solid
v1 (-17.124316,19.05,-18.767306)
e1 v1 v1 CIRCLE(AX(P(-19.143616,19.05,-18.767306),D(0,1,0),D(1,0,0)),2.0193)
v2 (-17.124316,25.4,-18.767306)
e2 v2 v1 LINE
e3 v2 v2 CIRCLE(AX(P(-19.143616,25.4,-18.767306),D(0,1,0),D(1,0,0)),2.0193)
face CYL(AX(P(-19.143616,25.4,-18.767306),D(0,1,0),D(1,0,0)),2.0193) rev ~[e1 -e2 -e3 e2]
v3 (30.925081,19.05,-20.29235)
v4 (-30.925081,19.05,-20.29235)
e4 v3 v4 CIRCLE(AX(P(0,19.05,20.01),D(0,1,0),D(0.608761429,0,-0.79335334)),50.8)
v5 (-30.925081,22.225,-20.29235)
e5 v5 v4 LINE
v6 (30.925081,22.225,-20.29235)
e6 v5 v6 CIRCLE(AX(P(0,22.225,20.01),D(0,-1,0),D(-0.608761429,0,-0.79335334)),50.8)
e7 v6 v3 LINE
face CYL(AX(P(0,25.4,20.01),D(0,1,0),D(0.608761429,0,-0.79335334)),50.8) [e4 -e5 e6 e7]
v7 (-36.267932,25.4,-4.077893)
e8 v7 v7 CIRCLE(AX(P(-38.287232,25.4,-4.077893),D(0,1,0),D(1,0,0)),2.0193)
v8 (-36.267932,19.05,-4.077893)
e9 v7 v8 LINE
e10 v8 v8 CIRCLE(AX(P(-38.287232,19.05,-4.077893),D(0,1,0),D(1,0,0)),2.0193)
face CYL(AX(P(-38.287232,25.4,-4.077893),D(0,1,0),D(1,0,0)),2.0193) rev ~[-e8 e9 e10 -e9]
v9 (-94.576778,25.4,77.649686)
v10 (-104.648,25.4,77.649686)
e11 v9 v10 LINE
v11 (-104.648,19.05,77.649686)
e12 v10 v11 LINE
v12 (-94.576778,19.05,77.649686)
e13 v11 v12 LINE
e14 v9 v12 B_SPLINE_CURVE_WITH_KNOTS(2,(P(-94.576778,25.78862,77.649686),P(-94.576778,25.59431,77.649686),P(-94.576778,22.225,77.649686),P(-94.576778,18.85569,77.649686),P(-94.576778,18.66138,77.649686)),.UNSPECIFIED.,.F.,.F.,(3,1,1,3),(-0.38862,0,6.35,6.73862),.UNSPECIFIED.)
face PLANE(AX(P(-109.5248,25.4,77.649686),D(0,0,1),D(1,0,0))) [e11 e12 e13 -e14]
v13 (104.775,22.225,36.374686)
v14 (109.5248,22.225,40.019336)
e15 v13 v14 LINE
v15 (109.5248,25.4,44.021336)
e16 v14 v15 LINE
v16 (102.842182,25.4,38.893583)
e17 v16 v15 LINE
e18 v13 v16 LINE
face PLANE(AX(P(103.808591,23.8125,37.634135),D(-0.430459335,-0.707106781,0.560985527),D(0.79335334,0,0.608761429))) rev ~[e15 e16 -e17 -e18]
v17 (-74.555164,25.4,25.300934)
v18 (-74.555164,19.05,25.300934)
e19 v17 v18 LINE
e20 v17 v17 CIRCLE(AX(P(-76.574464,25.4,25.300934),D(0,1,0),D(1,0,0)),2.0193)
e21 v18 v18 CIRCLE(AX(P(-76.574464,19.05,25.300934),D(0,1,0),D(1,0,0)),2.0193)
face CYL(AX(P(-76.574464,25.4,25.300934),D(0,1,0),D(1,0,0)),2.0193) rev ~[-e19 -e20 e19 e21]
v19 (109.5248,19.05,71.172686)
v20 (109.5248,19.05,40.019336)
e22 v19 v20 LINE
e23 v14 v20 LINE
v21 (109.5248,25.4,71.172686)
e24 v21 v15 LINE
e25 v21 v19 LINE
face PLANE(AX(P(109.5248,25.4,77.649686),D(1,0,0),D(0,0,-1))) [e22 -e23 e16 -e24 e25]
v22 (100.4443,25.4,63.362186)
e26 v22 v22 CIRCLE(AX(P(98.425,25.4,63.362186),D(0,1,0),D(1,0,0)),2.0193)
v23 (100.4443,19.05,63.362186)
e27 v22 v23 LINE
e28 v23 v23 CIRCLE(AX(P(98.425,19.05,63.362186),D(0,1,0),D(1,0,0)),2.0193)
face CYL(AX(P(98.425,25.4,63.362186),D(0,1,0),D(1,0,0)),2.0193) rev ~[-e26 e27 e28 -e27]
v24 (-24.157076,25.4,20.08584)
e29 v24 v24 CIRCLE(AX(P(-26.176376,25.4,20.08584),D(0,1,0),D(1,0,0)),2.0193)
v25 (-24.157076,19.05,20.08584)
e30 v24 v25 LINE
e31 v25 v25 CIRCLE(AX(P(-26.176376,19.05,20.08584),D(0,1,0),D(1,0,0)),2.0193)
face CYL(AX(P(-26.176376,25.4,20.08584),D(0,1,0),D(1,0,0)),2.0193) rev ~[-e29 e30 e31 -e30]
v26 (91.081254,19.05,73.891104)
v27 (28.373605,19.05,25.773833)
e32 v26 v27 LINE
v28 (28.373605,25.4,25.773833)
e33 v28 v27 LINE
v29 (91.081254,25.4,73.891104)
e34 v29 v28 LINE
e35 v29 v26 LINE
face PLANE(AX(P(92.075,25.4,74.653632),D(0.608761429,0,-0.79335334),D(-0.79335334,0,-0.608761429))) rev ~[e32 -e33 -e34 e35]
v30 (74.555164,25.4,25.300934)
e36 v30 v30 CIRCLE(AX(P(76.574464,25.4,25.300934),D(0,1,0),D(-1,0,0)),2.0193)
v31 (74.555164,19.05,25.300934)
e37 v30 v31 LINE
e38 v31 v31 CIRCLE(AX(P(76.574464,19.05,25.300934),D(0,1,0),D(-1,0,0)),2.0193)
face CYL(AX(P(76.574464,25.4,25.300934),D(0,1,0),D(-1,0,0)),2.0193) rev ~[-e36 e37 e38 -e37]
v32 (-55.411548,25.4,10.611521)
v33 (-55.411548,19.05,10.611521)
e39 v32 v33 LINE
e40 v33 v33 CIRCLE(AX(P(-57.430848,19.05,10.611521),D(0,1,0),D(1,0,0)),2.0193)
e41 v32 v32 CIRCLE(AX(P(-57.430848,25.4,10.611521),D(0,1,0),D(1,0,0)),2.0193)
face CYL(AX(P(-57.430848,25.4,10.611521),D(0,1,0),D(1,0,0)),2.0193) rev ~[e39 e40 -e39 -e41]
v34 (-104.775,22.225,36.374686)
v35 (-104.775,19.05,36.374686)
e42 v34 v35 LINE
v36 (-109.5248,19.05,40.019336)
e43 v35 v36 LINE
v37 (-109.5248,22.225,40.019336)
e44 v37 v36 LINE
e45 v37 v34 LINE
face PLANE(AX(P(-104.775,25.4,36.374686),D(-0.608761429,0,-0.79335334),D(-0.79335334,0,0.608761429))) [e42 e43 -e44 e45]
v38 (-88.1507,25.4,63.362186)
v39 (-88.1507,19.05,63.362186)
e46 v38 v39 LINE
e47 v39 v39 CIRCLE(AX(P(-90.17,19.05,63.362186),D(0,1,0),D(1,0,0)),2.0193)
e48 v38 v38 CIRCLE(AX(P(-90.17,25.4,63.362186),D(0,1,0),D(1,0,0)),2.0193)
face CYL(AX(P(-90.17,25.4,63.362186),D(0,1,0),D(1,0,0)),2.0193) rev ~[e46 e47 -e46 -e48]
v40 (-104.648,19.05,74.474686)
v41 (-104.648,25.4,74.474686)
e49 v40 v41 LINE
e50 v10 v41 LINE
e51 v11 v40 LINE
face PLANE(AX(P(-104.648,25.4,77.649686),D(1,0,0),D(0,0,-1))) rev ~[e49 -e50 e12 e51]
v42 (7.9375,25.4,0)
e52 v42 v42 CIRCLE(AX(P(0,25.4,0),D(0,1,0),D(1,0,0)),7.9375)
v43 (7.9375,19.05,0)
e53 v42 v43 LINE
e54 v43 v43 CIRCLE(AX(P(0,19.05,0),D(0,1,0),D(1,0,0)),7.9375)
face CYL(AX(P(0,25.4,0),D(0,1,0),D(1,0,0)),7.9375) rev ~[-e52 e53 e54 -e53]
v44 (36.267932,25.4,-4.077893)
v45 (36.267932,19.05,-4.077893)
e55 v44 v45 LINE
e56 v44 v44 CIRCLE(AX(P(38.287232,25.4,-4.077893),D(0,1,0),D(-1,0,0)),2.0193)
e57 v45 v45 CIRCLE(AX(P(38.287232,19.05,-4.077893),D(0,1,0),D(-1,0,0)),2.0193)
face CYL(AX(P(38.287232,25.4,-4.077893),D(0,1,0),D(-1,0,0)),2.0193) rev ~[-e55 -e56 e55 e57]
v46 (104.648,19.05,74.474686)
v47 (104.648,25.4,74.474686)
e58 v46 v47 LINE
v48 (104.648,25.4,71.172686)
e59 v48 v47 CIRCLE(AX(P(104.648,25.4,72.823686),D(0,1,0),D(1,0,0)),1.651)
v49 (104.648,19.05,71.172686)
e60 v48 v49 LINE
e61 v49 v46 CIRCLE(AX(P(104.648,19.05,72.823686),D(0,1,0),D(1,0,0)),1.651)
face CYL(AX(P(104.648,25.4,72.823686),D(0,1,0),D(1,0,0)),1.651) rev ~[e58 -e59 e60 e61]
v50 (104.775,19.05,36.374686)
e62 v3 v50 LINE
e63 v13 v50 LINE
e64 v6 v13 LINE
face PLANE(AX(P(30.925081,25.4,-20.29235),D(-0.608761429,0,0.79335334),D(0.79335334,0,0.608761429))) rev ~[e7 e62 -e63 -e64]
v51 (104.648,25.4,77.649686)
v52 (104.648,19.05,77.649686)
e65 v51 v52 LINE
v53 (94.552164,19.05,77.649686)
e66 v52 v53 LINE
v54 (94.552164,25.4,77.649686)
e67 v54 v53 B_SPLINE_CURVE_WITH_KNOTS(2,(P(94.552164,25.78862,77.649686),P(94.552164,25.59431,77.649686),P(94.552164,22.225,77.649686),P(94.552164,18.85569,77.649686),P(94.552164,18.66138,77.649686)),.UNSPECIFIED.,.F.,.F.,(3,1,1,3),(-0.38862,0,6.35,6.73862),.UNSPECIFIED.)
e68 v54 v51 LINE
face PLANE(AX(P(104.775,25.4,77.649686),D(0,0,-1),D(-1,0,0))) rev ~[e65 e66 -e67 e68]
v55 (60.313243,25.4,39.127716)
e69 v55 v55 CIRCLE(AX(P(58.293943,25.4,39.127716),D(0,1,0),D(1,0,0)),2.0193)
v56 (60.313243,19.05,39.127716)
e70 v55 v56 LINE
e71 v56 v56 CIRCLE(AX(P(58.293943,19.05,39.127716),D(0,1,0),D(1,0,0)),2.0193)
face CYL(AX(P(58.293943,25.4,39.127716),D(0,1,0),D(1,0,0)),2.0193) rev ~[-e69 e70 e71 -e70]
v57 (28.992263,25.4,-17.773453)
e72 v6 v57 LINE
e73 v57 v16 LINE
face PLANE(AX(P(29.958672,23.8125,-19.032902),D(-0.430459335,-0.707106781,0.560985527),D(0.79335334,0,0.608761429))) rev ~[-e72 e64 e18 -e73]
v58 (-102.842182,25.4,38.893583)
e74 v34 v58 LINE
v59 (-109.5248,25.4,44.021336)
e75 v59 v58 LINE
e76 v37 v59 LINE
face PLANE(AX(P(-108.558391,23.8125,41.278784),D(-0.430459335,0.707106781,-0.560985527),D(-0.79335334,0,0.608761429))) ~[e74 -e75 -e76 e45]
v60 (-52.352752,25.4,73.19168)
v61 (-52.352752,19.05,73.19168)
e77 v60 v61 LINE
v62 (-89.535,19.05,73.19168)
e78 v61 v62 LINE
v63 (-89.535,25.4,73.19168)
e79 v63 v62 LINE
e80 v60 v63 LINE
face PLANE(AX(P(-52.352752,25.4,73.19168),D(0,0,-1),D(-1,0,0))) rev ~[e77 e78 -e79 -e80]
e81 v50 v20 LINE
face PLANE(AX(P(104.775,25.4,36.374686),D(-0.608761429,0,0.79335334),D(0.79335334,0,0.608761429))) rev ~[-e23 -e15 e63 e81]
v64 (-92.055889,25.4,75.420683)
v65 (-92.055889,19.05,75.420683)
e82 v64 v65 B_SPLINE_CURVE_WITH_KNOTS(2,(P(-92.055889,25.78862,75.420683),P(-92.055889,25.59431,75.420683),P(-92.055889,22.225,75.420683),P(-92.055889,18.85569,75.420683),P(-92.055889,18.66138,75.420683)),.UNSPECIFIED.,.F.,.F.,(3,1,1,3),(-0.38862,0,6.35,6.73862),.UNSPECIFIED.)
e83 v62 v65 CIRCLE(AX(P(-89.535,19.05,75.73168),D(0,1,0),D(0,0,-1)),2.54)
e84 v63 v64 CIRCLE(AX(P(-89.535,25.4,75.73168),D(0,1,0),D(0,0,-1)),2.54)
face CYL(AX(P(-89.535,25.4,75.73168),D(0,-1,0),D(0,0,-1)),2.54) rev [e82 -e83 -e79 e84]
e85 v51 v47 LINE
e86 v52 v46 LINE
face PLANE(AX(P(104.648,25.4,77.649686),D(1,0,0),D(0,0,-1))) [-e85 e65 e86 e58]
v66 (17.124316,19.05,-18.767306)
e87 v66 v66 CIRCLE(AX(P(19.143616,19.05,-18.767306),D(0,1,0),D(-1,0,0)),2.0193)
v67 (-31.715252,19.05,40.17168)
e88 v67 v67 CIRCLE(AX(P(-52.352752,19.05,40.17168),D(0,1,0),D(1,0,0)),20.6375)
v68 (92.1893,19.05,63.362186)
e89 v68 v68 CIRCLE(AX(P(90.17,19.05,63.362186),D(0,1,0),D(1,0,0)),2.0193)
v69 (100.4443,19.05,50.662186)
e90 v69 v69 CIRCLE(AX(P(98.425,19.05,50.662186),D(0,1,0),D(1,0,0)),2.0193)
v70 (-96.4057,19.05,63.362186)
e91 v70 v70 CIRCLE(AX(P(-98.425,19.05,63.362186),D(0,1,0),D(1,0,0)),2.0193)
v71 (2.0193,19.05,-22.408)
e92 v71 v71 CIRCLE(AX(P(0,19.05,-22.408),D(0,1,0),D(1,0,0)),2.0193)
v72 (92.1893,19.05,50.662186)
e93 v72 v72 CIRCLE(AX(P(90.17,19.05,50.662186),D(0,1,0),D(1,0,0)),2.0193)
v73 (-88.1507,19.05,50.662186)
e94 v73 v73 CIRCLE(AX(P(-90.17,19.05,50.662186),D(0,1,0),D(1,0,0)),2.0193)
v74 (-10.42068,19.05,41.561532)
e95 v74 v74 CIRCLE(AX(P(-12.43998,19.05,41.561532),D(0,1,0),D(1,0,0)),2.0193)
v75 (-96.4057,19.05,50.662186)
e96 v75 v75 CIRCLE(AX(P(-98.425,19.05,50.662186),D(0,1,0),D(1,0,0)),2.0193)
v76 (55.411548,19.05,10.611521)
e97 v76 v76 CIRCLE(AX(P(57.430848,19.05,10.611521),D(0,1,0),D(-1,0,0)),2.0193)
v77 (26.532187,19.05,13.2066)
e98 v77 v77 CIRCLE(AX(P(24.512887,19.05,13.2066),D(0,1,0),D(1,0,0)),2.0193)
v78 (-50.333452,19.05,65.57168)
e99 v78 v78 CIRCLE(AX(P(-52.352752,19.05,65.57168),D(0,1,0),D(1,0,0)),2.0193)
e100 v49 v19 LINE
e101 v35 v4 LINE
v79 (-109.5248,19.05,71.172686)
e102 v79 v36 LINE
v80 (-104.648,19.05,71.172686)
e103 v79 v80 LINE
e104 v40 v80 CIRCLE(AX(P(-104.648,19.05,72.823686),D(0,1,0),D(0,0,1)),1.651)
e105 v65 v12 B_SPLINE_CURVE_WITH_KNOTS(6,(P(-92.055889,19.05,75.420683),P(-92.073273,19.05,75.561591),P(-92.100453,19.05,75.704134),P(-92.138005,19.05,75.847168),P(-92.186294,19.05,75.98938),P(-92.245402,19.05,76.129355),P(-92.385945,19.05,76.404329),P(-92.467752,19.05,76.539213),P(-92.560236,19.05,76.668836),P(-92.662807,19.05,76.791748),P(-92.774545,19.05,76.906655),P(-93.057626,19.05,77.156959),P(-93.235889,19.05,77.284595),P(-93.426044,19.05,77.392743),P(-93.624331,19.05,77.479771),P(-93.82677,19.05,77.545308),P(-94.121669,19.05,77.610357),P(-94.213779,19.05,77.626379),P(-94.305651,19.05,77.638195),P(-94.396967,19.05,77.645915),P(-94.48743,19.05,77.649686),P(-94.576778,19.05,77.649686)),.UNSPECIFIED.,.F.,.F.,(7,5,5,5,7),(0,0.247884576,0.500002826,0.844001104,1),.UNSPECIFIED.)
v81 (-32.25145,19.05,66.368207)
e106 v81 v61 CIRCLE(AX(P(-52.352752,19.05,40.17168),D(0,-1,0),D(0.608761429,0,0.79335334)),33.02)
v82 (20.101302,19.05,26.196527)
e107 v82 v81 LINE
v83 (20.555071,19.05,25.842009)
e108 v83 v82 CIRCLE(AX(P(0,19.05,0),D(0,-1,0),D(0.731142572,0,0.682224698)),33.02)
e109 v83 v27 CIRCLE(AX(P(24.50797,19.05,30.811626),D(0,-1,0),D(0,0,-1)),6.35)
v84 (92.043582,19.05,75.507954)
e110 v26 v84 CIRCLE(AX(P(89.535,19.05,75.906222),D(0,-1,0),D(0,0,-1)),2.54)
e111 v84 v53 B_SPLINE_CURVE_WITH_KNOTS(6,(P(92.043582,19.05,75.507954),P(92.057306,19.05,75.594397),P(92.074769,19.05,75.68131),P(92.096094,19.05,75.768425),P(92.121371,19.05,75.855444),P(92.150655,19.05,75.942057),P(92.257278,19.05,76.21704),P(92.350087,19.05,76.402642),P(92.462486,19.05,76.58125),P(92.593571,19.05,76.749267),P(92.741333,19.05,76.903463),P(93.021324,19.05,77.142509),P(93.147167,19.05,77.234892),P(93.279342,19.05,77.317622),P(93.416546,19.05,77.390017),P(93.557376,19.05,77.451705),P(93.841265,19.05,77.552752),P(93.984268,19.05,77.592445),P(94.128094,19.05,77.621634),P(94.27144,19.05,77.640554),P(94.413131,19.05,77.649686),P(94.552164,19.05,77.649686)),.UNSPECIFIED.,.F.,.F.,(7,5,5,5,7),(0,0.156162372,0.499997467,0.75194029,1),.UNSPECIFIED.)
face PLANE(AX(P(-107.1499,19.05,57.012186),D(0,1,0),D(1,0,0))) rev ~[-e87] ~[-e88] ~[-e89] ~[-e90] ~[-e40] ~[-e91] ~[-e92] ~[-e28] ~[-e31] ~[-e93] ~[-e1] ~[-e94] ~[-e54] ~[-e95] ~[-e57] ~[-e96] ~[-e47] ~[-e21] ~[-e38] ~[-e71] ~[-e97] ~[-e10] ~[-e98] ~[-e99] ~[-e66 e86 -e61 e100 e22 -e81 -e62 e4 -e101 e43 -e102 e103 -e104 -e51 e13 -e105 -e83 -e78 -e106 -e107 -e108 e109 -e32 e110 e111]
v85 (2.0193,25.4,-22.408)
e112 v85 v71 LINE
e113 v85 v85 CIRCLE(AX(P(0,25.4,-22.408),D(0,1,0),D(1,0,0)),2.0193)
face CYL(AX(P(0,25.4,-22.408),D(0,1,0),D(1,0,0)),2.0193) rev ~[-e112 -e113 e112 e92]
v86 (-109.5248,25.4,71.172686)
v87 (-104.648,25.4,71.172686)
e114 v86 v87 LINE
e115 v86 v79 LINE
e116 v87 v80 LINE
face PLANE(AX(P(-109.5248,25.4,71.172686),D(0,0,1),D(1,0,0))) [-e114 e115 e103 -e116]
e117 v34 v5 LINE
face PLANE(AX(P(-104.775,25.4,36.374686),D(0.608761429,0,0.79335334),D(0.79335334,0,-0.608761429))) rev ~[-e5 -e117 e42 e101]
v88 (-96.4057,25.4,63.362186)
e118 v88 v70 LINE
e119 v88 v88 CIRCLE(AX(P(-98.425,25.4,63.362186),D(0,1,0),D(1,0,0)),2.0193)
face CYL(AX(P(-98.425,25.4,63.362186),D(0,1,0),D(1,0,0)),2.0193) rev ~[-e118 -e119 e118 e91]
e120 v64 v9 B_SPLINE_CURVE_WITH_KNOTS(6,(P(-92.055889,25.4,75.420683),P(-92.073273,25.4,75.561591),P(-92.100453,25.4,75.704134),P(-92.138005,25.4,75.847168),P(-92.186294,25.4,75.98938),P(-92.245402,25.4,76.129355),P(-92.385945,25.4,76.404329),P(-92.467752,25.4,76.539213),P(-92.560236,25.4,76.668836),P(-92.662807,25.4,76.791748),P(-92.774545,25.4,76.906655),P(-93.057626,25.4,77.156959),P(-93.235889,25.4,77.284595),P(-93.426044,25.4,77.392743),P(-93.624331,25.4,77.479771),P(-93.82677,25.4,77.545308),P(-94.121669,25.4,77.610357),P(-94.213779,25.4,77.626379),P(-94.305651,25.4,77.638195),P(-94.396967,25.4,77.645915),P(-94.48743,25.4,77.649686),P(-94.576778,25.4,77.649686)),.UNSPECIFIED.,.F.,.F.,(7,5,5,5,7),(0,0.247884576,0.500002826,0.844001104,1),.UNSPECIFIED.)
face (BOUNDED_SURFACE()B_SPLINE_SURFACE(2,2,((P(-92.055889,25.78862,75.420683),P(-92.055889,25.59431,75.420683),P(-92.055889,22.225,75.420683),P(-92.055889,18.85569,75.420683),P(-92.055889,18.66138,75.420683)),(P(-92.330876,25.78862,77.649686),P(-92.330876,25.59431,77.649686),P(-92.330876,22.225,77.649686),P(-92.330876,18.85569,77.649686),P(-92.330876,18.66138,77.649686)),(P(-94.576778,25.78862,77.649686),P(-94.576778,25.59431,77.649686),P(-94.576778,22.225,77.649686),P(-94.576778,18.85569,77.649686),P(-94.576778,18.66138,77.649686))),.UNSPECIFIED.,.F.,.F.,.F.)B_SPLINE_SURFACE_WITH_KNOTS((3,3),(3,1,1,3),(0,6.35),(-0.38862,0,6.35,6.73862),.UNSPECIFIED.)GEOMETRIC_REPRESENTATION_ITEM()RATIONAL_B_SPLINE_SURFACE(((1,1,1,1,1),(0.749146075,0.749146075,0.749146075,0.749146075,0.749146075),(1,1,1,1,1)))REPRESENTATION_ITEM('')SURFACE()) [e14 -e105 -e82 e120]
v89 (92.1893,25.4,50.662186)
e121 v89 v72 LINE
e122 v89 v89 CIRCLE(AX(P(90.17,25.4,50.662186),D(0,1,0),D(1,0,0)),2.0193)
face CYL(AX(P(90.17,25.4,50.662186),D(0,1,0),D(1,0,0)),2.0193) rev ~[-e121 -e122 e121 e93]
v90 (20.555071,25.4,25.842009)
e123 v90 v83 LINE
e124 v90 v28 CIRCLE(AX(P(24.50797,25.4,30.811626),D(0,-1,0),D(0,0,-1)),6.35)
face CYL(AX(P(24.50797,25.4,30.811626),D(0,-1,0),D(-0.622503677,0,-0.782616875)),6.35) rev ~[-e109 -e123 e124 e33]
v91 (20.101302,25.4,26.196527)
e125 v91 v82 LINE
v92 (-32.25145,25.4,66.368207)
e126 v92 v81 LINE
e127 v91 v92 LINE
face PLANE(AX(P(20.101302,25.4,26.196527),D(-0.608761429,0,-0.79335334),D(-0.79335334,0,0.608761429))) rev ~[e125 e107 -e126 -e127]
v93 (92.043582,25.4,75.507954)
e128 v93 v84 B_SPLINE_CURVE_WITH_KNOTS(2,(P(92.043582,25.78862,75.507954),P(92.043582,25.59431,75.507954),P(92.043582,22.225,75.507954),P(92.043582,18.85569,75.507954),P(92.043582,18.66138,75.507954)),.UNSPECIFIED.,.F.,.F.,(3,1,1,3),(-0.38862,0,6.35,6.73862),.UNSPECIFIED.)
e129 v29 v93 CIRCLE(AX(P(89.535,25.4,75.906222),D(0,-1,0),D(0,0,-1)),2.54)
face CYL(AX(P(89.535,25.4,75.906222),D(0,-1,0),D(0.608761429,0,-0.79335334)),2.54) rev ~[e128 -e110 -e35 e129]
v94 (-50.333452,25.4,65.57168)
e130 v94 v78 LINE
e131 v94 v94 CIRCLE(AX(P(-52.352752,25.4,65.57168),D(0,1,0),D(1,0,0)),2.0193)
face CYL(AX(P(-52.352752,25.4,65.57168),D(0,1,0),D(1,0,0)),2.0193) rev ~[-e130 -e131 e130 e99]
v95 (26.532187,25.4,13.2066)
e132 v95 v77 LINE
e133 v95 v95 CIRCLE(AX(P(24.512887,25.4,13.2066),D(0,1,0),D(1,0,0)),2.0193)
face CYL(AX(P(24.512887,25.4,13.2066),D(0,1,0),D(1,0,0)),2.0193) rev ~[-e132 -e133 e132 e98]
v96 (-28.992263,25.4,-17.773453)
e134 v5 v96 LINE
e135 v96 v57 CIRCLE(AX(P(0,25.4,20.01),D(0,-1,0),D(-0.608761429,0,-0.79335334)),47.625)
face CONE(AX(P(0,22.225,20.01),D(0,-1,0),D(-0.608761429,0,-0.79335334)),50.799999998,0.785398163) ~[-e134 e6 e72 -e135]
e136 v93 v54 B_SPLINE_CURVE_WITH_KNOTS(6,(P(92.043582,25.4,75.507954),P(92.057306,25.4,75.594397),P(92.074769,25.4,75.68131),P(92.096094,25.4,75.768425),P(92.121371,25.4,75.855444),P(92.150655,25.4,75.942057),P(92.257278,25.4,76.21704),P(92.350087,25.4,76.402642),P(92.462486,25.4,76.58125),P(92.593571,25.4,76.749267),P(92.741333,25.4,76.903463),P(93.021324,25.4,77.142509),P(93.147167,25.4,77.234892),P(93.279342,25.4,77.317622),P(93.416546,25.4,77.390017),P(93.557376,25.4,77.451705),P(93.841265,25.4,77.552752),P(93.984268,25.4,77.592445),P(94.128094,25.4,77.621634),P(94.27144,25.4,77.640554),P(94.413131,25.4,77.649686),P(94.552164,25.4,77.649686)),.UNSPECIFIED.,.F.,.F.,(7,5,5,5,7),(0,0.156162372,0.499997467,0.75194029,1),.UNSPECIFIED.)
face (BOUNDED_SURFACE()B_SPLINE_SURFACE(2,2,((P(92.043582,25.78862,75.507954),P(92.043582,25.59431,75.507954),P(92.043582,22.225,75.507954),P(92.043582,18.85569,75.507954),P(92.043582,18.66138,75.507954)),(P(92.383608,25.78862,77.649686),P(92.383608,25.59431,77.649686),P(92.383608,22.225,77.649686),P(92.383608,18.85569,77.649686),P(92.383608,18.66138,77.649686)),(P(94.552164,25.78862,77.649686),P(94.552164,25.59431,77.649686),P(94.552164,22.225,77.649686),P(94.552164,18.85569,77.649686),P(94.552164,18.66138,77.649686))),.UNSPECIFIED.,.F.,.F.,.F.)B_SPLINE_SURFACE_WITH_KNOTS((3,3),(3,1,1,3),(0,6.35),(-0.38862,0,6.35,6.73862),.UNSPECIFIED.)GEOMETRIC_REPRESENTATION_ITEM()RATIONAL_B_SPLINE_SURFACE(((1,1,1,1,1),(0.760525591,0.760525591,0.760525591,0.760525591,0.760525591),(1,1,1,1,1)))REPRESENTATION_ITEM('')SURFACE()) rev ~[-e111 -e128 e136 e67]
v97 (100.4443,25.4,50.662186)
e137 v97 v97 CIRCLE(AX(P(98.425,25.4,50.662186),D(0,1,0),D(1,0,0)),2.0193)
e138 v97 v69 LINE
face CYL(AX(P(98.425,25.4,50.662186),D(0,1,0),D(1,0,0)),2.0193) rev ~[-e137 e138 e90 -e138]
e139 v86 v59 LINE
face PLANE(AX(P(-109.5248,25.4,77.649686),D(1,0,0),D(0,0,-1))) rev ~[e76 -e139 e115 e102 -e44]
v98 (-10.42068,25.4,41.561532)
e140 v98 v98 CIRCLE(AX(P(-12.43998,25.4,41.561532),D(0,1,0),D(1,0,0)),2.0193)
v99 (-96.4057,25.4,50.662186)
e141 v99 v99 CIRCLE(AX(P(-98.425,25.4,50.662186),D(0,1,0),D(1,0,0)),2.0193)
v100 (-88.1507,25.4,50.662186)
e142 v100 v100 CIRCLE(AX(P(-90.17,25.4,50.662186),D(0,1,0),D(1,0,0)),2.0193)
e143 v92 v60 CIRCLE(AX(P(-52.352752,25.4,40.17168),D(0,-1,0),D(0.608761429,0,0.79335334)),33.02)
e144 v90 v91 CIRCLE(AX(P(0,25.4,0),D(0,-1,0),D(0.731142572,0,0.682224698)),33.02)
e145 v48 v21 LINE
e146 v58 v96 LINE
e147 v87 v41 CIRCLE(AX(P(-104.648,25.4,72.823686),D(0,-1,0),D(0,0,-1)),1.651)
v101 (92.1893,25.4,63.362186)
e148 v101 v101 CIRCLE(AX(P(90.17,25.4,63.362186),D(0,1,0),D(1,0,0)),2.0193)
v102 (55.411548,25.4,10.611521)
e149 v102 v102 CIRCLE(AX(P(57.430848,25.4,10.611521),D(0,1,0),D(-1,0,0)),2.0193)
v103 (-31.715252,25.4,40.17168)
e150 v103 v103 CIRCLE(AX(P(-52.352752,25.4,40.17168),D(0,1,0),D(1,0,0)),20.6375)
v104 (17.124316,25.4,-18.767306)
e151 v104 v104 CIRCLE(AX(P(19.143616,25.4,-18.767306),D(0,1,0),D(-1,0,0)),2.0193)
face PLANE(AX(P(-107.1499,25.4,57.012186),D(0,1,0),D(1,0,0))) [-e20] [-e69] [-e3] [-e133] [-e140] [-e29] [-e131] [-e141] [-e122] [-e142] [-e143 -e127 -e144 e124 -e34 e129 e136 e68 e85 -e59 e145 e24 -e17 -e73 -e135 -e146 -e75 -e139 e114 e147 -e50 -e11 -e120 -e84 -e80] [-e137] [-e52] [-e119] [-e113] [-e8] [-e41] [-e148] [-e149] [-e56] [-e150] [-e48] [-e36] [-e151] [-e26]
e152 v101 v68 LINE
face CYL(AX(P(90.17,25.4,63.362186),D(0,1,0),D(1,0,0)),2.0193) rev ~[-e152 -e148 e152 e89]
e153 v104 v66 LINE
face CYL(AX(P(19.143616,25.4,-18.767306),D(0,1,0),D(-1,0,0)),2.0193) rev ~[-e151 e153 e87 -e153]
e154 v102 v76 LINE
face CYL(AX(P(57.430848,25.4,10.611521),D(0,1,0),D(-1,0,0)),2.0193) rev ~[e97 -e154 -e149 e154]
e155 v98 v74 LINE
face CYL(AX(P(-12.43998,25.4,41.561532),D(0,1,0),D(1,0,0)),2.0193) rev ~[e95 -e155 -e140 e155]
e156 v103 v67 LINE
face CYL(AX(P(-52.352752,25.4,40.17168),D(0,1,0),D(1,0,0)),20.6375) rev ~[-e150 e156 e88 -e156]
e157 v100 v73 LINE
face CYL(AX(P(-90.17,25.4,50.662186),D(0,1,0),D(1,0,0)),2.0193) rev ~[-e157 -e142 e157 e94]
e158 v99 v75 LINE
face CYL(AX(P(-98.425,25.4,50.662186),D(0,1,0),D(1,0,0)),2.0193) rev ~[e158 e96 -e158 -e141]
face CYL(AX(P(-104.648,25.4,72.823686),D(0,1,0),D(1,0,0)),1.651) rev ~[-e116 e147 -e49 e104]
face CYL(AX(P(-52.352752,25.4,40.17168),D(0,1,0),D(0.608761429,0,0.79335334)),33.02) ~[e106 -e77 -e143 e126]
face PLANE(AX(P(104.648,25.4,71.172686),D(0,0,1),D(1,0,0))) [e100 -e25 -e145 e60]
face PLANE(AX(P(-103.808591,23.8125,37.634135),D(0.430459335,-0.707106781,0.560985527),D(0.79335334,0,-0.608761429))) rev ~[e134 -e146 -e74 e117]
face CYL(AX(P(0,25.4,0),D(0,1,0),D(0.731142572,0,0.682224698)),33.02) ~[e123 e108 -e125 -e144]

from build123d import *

# Parameters (mm, degrees)
SKETCH3_R                          = 17.8
SKETCH3_R_2                        = 7.9375
BOSS_EXTRUDE1_DEPTH                = 6.35
SKETCH7_R                          = 20.6375
CUT_EXTRUDE1_DEPTH                 = 7.35
SKETCH8_W                          = 4.7498
SKETCH8_H                          = 41.275
BOSS_EXTRUDE4_DEPTH                = 6.35
SKETCH10_R                         = 2.0193
SPACER_HOLES_DEPTH                 = 7.35
SPACER_HOLE_PATTERN_COUNT          = 5
SPACER_HOLE_PATTERN_PITCH          = 24.13
SPACER_HOLE_MIRROR_COPY_1_SKETCH_R = 2.0193
SPACER_HOLE_MIRROR_COPY_1_DEPTH    = 7.35
SPACER_HOLE_MIRROR_COPY_2_SKETCH_R = 2.0193
SPACER_HOLE_MIRROR_COPY_2_DEPTH    = 7.35
SPACER_HOLE_MIRROR_COPY_3_SKETCH_R = 2.0193
SPACER_HOLE_MIRROR_COPY_3_DEPTH    = 7.35
SPACER_HOLE_MIRROR_COPY_4_SKETCH_R = 2.0193
SPACER_HOLE_MIRROR_COPY_4_DEPTH    = 7.35
SPACER_HOLE_MIRROR_COPY_5_SKETCH_R = 2.0193
SPACER_HOLE_MIRROR_COPY_5_DEPTH    = 7.35
SKETCH16_R                         = 2.0193
CUSTOM_NUTSTRIP_HOLES_DEPTH        = 7.35
SKETCH36_R                         = 2.0193
AUX_SPACER_HOLES_DEPTH             = 7.35
SKETCH58_R                         = 2.0193
CUT_EXTRUDE30_DEPTH                = 7.35
SKETCH84_R                         = 2.0193
CUT_EXTRUDE40_DEPTH                = 7.35
CUT_EXTRUDE34_DEPTH                = 7.35
SKETCH105_W                        = 4.8768
SKETCH105_H                        = 6.477
CUT_EXTRUDE54_DEPTH                = 7.35
SKETCH106_R                        = 1.651
CUT_EXTRUDE55_DEPTH                = 7.35
CHAMFER5_SIZE                      = 3.175
FILLET21_R                         = 6.35
FILLET22_R                         = 2.54
FILLET23_R                         = 2.54


with BuildPart() as part:
    # Sketch3 → Boss-Extrude1 (new body)
    with BuildSketch(Plane(origin=(0, 25.4, 0), x_dir=(1, 0, 0), z_dir=(0, 1, 0))):
        with BuildLine():
            Line((-104.775, -36.374686106), (-30.925080594, 20.292350114))
            Line((-30.925080594, 20.292350114), (0, 44.021999059))
            Line((0, 44.021999059), (30.925080594, 20.292350114))
            Line((30.925080594, 20.292350114), (104.775, -36.374686106))
            Line((104.775, -36.374686106), (104.775, -77.649686106))
            Line((104.775, -77.649686106), (92.075, -77.649686106))
            Line((92.075, -77.649686106), (92.075, -74.653632333))
            Line((92.075, -74.653632333), (24.142327736, -22.527059539))
            ThreePointArc((24.142327736, -22.527059539), (22.197769032, -24.445438225), (20.101302386, -26.196527296))
            Line((20.101302386, -26.196527296), (-32.251449857, -66.368206988))
            ThreePointArc((-32.251449857, -66.368206988), (-41.738821099, -71.439312567), (-52.352752243, -73.191679691))
            Line((-52.352752243, -73.191679691), (-92.075, -73.191679691))
            Line((-92.075, -73.191679691), (-92.075, -77.649686106))
            Line((-92.075, -77.649686106), (-104.775, -77.649686106))
            Line((-104.775, -77.649686106), (-104.775, -36.374686106))
        make_face()
        with Locations((-52.352752243, -40.171679691)):
            Circle(SKETCH3_R, mode=Mode.SUBTRACT)
        Circle(SKETCH3_R_2, mode=Mode.SUBTRACT)
    extrude(amount=-BOSS_EXTRUDE1_DEPTH)

    # Sketch7 → Cut-Extrude1 (cut, through all)
    with BuildSketch(Plane(origin=(0, 25.4, 0), x_dir=(1, 0, 0), z_dir=(0, 1, 0))):
        with Locations((-52.352752243, -40.171679691)):
            Circle(SKETCH7_R)
    extrude(amount=-CUT_EXTRUDE1_DEPTH, mode=Mode.SUBTRACT)

    # Sketch8 → Boss-Extrude4 (add, through all)
    with BuildSketch(Plane(origin=(0, 25.4, 0), x_dir=(1, 0, 0), z_dir=(0, 1, 0))):
        with Locations((-107.1499, -57.012186106)):
            Rectangle(SKETCH8_W, SKETCH8_H)
        with Locations((107.1499, -57.012186106)):
            Rectangle(SKETCH8_W, SKETCH8_H)
    extrude(amount=-BOSS_EXTRUDE4_DEPTH)

    # Sketch10 → Spacer Holes (cut, through all)
    with BuildSketch(Plane(origin=(0, 25.4, 0), x_dir=(1, 0, 0), z_dir=(0, 1, 0))):
        with Locations((0, 33.456719285)):
            Circle(SKETCH10_R)
    spacer_holes = extrude(amount=-SPACER_HOLES_DEPTH, mode=Mode.SUBTRACT)

    # Spacer Hole Pattern: Spacer Holes ×5
    with Locations(*[Vector(-0.79335334, 0, 0.608761429) * (i * SPACER_HOLE_PATTERN_PITCH) for i in range(1, SPACER_HOLE_PATTERN_COUNT)]):
        add(spacer_holes, mode=Mode.SUBTRACT)

    # Spacer Hole Mirror copy 1 sketch → Spacer Hole Mirror copy 1 (cut, through all)
    with BuildSketch(Plane(origin=(19.143616101, 25.4, 14.689413282), x_dir=(-1, 0, 0), z_dir=(0, 1, 0))):
        with Locations((0, -33.456719285)):
            Circle(SPACER_HOLE_MIRROR_COPY_1_SKETCH_R)
    extrude(amount=-SPACER_HOLE_MIRROR_COPY_1_DEPTH, mode=Mode.SUBTRACT)

    # Spacer Hole Mirror copy 2 sketch → Spacer Hole Mirror copy 2 (cut, through all)
    with BuildSketch(Plane(origin=(38.287232202, 25.4, 29.378826564), x_dir=(-1, 0, 0), z_dir=(0, 1, 0))):
        with Locations((0, -33.456719285)):
            Circle(SPACER_HOLE_MIRROR_COPY_2_SKETCH_R)
    extrude(amount=-SPACER_HOLE_MIRROR_COPY_2_DEPTH, mode=Mode.SUBTRACT)

    # Spacer Hole Mirror copy 3 sketch → Spacer Hole Mirror copy 3 (cut, through all)
    with BuildSketch(Plane(origin=(57.430848304, 25.4, 44.068239846), x_dir=(-1, 0, 0), z_dir=(0, 1, 0))):
        with Locations((0, -33.456719285)):
            Circle(SPACER_HOLE_MIRROR_COPY_3_SKETCH_R)
    extrude(amount=-SPACER_HOLE_MIRROR_COPY_3_DEPTH, mode=Mode.SUBTRACT)

    # Spacer Hole Mirror copy 4 sketch → Spacer Hole Mirror copy 4 (cut, through all)
    with BuildSketch(Plane(origin=(76.574464405, 25.4, 58.757653128), x_dir=(-1, 0, 0), z_dir=(0, 1, 0))):
        with Locations((0, -33.456719285)):
            Circle(SPACER_HOLE_MIRROR_COPY_4_SKETCH_R)
    extrude(amount=-SPACER_HOLE_MIRROR_COPY_4_DEPTH, mode=Mode.SUBTRACT)

    # Spacer Hole Mirror copy 5 sketch → Spacer Hole Mirror copy 5 (cut, through all)
    with BuildSketch(Plane(origin=(0, 25.4, 0), x_dir=(-1, 0, 0), z_dir=(0, 1, 0))):
        with Locations((0, -33.456719285)):
            Circle(SPACER_HOLE_MIRROR_COPY_5_SKETCH_R)
    extrude(amount=-SPACER_HOLE_MIRROR_COPY_5_DEPTH, mode=Mode.SUBTRACT)

    # Sketch16 → Custom Nutstrip Holes (cut, through all)
    with BuildSketch(Plane(origin=(0, 25.4, 0), x_dir=(1, 0, 0), z_dir=(0, 1, 0))):
        with Locations((-98.425, -50.662186106)):
            Circle(SKETCH16_R)
        with Locations((-98.425, -63.362186106)):
            Circle(SKETCH16_R)
        with Locations((98.425, -63.362186106)):
            Circle(SKETCH16_R)
        with Locations((98.425, -50.662186106)):
            Circle(SKETCH16_R)
    extrude(amount=-CUSTOM_NUTSTRIP_HOLES_DEPTH, mode=Mode.SUBTRACT)

    # Sketch36 → Aux Spacer Holes (cut, through all)
    with BuildSketch(Plane(origin=(0, 25.4, 0), x_dir=(1, 0, 0), z_dir=(0, 1, 0))):
        with Locations((-52.352752243, -65.571679691)):
            Circle(SKETCH36_R)
        with Locations((58.293943402, -39.127716128)):
            Circle(SKETCH36_R)
        with Locations((24.512886804, -13.206599718)):
            Circle(SKETCH36_R)
        with Locations((-12.439980265, -41.561531903)):
            Circle(SKETCH36_R)
        with Locations((-26.176376122, -20.085839846)):
            Circle(SKETCH36_R)
    extrude(amount=-AUX_SPACER_HOLES_DEPTH, mode=Mode.SUBTRACT)

    # Sketch58 → Cut-Extrude30 (cut, through all)
    with BuildSketch(Plane(origin=(0, 25.4, 0), x_dir=(1, 0, 0), z_dir=(0, 1, 0))):
        with Locations((0, 22.408000428)):
            Circle(SKETCH58_R)
        with BuildLine():
            Line((-30.925080594, 20.292350114), (0, 44.021999059))
            Line((0, 44.021999059), (30.925080594, 20.292350114))
            ThreePointArc((30.925080594, 20.292350114), (0, 30.790000428), (-30.925080594, 20.292350114))
        make_face()
    extrude(amount=-CUT_EXTRUDE30_DEPTH, mode=Mode.SUBTRACT)

    # Sketch84 → Cut-Extrude40 (cut, through all)
    with BuildSketch(Plane(origin=(0, 25.4, 0), x_dir=(1, 0, 0), z_dir=(0, 1, 0))):
        with Locations((90.17, -50.662186106)):
            Circle(SKETCH84_R)
        with Locations((90.17, -63.362186106)):
            Circle(SKETCH84_R)
        with Locations((-90.17, -50.662186106)):
            Circle(SKETCH84_R)
        with Locations((-90.17, -63.362186106)):
            Circle(SKETCH84_R)
    extrude(amount=-CUT_EXTRUDE40_DEPTH, mode=Mode.SUBTRACT)

    # Sketch75 → Cut-Extrude34 (cut, through all)
    with BuildSketch(Plane(origin=(0, 25.4, 0), x_dir=(1, 0, 0), z_dir=(0, 1, 0))):
        Polygon((-104.775, -36.374686106), (-109.5248, -40.019335834), (-109.5248, -36.374686106), align=None)
        Polygon((104.775, -36.374686106), (109.5248, -40.019335834), (109.5248, -36.374686106), align=None)
    extrude(amount=-CUT_EXTRUDE34_DEPTH, mode=Mode.SUBTRACT)

    # Sketch105 → Cut-Extrude54 (cut, through all)
    with BuildSketch(Plane(origin=(0, 25.4, 0), x_dir=(1, 0, 0), z_dir=(0, 1, 0))):
        with Locations((-107.0864, -74.411186106)):
            Rectangle(SKETCH105_W, SKETCH105_H)
        with Locations((107.0864, -74.411186106)):
            Rectangle(SKETCH105_W, SKETCH105_H)
    extrude(amount=-CUT_EXTRUDE54_DEPTH, mode=Mode.SUBTRACT)

    # Sketch106 → Cut-Extrude55 (cut, through all)
    with BuildSketch(Plane(origin=(0, 25.4, 0), x_dir=(1, 0, 0), z_dir=(0, 1, 0))):
        with Locations((-104.648, -72.823686106)):
            Circle(SKETCH106_R)
        with Locations((104.648, -72.823686106)):
            Circle(SKETCH106_R)
    extrude(amount=-CUT_EXTRUDE55_DEPTH, mode=Mode.SUBTRACT)

    # Chamfer5
    chamfer5_edges = [part.edges().sort_by_distance(p)[0] for p in [
        (70.224940297, 25.4, 9.86349286),
        (-70.224940297, 25.4, 9.86349286),
        (0, 25.4, -30.790000428),
    ]]
    chamfer(chamfer5_edges, length=CHAMFER5_SIZE)

    # Fillet21
    fillet21_edges = [part.edges().sort_by_distance(p)[0] for p in [
        (24.142327736, 22.225, 22.527059539),
    ]]
    fillet(fillet21_edges, radius=FILLET21_R)

    # Fillet22
    fillet22_edges = [part.edges().sort_by_distance(p)[0] for p in [
        (-92.075, 22.225, 73.191679691),
        (92.075, 22.225, 74.653632333),
    ]]
    fillet(fillet22_edges, radius=FILLET22_R)

    # Fillet23
    fillet23_edges = [part.edges().sort_by_distance(p)[0] for p in [
        (92.075, 22.225, 77.649686106),
        (-92.075, 22.225, 77.649686106),
    ]]
    fillet(fillet23_edges, radius=FILLET23_R)


solid = part.part
